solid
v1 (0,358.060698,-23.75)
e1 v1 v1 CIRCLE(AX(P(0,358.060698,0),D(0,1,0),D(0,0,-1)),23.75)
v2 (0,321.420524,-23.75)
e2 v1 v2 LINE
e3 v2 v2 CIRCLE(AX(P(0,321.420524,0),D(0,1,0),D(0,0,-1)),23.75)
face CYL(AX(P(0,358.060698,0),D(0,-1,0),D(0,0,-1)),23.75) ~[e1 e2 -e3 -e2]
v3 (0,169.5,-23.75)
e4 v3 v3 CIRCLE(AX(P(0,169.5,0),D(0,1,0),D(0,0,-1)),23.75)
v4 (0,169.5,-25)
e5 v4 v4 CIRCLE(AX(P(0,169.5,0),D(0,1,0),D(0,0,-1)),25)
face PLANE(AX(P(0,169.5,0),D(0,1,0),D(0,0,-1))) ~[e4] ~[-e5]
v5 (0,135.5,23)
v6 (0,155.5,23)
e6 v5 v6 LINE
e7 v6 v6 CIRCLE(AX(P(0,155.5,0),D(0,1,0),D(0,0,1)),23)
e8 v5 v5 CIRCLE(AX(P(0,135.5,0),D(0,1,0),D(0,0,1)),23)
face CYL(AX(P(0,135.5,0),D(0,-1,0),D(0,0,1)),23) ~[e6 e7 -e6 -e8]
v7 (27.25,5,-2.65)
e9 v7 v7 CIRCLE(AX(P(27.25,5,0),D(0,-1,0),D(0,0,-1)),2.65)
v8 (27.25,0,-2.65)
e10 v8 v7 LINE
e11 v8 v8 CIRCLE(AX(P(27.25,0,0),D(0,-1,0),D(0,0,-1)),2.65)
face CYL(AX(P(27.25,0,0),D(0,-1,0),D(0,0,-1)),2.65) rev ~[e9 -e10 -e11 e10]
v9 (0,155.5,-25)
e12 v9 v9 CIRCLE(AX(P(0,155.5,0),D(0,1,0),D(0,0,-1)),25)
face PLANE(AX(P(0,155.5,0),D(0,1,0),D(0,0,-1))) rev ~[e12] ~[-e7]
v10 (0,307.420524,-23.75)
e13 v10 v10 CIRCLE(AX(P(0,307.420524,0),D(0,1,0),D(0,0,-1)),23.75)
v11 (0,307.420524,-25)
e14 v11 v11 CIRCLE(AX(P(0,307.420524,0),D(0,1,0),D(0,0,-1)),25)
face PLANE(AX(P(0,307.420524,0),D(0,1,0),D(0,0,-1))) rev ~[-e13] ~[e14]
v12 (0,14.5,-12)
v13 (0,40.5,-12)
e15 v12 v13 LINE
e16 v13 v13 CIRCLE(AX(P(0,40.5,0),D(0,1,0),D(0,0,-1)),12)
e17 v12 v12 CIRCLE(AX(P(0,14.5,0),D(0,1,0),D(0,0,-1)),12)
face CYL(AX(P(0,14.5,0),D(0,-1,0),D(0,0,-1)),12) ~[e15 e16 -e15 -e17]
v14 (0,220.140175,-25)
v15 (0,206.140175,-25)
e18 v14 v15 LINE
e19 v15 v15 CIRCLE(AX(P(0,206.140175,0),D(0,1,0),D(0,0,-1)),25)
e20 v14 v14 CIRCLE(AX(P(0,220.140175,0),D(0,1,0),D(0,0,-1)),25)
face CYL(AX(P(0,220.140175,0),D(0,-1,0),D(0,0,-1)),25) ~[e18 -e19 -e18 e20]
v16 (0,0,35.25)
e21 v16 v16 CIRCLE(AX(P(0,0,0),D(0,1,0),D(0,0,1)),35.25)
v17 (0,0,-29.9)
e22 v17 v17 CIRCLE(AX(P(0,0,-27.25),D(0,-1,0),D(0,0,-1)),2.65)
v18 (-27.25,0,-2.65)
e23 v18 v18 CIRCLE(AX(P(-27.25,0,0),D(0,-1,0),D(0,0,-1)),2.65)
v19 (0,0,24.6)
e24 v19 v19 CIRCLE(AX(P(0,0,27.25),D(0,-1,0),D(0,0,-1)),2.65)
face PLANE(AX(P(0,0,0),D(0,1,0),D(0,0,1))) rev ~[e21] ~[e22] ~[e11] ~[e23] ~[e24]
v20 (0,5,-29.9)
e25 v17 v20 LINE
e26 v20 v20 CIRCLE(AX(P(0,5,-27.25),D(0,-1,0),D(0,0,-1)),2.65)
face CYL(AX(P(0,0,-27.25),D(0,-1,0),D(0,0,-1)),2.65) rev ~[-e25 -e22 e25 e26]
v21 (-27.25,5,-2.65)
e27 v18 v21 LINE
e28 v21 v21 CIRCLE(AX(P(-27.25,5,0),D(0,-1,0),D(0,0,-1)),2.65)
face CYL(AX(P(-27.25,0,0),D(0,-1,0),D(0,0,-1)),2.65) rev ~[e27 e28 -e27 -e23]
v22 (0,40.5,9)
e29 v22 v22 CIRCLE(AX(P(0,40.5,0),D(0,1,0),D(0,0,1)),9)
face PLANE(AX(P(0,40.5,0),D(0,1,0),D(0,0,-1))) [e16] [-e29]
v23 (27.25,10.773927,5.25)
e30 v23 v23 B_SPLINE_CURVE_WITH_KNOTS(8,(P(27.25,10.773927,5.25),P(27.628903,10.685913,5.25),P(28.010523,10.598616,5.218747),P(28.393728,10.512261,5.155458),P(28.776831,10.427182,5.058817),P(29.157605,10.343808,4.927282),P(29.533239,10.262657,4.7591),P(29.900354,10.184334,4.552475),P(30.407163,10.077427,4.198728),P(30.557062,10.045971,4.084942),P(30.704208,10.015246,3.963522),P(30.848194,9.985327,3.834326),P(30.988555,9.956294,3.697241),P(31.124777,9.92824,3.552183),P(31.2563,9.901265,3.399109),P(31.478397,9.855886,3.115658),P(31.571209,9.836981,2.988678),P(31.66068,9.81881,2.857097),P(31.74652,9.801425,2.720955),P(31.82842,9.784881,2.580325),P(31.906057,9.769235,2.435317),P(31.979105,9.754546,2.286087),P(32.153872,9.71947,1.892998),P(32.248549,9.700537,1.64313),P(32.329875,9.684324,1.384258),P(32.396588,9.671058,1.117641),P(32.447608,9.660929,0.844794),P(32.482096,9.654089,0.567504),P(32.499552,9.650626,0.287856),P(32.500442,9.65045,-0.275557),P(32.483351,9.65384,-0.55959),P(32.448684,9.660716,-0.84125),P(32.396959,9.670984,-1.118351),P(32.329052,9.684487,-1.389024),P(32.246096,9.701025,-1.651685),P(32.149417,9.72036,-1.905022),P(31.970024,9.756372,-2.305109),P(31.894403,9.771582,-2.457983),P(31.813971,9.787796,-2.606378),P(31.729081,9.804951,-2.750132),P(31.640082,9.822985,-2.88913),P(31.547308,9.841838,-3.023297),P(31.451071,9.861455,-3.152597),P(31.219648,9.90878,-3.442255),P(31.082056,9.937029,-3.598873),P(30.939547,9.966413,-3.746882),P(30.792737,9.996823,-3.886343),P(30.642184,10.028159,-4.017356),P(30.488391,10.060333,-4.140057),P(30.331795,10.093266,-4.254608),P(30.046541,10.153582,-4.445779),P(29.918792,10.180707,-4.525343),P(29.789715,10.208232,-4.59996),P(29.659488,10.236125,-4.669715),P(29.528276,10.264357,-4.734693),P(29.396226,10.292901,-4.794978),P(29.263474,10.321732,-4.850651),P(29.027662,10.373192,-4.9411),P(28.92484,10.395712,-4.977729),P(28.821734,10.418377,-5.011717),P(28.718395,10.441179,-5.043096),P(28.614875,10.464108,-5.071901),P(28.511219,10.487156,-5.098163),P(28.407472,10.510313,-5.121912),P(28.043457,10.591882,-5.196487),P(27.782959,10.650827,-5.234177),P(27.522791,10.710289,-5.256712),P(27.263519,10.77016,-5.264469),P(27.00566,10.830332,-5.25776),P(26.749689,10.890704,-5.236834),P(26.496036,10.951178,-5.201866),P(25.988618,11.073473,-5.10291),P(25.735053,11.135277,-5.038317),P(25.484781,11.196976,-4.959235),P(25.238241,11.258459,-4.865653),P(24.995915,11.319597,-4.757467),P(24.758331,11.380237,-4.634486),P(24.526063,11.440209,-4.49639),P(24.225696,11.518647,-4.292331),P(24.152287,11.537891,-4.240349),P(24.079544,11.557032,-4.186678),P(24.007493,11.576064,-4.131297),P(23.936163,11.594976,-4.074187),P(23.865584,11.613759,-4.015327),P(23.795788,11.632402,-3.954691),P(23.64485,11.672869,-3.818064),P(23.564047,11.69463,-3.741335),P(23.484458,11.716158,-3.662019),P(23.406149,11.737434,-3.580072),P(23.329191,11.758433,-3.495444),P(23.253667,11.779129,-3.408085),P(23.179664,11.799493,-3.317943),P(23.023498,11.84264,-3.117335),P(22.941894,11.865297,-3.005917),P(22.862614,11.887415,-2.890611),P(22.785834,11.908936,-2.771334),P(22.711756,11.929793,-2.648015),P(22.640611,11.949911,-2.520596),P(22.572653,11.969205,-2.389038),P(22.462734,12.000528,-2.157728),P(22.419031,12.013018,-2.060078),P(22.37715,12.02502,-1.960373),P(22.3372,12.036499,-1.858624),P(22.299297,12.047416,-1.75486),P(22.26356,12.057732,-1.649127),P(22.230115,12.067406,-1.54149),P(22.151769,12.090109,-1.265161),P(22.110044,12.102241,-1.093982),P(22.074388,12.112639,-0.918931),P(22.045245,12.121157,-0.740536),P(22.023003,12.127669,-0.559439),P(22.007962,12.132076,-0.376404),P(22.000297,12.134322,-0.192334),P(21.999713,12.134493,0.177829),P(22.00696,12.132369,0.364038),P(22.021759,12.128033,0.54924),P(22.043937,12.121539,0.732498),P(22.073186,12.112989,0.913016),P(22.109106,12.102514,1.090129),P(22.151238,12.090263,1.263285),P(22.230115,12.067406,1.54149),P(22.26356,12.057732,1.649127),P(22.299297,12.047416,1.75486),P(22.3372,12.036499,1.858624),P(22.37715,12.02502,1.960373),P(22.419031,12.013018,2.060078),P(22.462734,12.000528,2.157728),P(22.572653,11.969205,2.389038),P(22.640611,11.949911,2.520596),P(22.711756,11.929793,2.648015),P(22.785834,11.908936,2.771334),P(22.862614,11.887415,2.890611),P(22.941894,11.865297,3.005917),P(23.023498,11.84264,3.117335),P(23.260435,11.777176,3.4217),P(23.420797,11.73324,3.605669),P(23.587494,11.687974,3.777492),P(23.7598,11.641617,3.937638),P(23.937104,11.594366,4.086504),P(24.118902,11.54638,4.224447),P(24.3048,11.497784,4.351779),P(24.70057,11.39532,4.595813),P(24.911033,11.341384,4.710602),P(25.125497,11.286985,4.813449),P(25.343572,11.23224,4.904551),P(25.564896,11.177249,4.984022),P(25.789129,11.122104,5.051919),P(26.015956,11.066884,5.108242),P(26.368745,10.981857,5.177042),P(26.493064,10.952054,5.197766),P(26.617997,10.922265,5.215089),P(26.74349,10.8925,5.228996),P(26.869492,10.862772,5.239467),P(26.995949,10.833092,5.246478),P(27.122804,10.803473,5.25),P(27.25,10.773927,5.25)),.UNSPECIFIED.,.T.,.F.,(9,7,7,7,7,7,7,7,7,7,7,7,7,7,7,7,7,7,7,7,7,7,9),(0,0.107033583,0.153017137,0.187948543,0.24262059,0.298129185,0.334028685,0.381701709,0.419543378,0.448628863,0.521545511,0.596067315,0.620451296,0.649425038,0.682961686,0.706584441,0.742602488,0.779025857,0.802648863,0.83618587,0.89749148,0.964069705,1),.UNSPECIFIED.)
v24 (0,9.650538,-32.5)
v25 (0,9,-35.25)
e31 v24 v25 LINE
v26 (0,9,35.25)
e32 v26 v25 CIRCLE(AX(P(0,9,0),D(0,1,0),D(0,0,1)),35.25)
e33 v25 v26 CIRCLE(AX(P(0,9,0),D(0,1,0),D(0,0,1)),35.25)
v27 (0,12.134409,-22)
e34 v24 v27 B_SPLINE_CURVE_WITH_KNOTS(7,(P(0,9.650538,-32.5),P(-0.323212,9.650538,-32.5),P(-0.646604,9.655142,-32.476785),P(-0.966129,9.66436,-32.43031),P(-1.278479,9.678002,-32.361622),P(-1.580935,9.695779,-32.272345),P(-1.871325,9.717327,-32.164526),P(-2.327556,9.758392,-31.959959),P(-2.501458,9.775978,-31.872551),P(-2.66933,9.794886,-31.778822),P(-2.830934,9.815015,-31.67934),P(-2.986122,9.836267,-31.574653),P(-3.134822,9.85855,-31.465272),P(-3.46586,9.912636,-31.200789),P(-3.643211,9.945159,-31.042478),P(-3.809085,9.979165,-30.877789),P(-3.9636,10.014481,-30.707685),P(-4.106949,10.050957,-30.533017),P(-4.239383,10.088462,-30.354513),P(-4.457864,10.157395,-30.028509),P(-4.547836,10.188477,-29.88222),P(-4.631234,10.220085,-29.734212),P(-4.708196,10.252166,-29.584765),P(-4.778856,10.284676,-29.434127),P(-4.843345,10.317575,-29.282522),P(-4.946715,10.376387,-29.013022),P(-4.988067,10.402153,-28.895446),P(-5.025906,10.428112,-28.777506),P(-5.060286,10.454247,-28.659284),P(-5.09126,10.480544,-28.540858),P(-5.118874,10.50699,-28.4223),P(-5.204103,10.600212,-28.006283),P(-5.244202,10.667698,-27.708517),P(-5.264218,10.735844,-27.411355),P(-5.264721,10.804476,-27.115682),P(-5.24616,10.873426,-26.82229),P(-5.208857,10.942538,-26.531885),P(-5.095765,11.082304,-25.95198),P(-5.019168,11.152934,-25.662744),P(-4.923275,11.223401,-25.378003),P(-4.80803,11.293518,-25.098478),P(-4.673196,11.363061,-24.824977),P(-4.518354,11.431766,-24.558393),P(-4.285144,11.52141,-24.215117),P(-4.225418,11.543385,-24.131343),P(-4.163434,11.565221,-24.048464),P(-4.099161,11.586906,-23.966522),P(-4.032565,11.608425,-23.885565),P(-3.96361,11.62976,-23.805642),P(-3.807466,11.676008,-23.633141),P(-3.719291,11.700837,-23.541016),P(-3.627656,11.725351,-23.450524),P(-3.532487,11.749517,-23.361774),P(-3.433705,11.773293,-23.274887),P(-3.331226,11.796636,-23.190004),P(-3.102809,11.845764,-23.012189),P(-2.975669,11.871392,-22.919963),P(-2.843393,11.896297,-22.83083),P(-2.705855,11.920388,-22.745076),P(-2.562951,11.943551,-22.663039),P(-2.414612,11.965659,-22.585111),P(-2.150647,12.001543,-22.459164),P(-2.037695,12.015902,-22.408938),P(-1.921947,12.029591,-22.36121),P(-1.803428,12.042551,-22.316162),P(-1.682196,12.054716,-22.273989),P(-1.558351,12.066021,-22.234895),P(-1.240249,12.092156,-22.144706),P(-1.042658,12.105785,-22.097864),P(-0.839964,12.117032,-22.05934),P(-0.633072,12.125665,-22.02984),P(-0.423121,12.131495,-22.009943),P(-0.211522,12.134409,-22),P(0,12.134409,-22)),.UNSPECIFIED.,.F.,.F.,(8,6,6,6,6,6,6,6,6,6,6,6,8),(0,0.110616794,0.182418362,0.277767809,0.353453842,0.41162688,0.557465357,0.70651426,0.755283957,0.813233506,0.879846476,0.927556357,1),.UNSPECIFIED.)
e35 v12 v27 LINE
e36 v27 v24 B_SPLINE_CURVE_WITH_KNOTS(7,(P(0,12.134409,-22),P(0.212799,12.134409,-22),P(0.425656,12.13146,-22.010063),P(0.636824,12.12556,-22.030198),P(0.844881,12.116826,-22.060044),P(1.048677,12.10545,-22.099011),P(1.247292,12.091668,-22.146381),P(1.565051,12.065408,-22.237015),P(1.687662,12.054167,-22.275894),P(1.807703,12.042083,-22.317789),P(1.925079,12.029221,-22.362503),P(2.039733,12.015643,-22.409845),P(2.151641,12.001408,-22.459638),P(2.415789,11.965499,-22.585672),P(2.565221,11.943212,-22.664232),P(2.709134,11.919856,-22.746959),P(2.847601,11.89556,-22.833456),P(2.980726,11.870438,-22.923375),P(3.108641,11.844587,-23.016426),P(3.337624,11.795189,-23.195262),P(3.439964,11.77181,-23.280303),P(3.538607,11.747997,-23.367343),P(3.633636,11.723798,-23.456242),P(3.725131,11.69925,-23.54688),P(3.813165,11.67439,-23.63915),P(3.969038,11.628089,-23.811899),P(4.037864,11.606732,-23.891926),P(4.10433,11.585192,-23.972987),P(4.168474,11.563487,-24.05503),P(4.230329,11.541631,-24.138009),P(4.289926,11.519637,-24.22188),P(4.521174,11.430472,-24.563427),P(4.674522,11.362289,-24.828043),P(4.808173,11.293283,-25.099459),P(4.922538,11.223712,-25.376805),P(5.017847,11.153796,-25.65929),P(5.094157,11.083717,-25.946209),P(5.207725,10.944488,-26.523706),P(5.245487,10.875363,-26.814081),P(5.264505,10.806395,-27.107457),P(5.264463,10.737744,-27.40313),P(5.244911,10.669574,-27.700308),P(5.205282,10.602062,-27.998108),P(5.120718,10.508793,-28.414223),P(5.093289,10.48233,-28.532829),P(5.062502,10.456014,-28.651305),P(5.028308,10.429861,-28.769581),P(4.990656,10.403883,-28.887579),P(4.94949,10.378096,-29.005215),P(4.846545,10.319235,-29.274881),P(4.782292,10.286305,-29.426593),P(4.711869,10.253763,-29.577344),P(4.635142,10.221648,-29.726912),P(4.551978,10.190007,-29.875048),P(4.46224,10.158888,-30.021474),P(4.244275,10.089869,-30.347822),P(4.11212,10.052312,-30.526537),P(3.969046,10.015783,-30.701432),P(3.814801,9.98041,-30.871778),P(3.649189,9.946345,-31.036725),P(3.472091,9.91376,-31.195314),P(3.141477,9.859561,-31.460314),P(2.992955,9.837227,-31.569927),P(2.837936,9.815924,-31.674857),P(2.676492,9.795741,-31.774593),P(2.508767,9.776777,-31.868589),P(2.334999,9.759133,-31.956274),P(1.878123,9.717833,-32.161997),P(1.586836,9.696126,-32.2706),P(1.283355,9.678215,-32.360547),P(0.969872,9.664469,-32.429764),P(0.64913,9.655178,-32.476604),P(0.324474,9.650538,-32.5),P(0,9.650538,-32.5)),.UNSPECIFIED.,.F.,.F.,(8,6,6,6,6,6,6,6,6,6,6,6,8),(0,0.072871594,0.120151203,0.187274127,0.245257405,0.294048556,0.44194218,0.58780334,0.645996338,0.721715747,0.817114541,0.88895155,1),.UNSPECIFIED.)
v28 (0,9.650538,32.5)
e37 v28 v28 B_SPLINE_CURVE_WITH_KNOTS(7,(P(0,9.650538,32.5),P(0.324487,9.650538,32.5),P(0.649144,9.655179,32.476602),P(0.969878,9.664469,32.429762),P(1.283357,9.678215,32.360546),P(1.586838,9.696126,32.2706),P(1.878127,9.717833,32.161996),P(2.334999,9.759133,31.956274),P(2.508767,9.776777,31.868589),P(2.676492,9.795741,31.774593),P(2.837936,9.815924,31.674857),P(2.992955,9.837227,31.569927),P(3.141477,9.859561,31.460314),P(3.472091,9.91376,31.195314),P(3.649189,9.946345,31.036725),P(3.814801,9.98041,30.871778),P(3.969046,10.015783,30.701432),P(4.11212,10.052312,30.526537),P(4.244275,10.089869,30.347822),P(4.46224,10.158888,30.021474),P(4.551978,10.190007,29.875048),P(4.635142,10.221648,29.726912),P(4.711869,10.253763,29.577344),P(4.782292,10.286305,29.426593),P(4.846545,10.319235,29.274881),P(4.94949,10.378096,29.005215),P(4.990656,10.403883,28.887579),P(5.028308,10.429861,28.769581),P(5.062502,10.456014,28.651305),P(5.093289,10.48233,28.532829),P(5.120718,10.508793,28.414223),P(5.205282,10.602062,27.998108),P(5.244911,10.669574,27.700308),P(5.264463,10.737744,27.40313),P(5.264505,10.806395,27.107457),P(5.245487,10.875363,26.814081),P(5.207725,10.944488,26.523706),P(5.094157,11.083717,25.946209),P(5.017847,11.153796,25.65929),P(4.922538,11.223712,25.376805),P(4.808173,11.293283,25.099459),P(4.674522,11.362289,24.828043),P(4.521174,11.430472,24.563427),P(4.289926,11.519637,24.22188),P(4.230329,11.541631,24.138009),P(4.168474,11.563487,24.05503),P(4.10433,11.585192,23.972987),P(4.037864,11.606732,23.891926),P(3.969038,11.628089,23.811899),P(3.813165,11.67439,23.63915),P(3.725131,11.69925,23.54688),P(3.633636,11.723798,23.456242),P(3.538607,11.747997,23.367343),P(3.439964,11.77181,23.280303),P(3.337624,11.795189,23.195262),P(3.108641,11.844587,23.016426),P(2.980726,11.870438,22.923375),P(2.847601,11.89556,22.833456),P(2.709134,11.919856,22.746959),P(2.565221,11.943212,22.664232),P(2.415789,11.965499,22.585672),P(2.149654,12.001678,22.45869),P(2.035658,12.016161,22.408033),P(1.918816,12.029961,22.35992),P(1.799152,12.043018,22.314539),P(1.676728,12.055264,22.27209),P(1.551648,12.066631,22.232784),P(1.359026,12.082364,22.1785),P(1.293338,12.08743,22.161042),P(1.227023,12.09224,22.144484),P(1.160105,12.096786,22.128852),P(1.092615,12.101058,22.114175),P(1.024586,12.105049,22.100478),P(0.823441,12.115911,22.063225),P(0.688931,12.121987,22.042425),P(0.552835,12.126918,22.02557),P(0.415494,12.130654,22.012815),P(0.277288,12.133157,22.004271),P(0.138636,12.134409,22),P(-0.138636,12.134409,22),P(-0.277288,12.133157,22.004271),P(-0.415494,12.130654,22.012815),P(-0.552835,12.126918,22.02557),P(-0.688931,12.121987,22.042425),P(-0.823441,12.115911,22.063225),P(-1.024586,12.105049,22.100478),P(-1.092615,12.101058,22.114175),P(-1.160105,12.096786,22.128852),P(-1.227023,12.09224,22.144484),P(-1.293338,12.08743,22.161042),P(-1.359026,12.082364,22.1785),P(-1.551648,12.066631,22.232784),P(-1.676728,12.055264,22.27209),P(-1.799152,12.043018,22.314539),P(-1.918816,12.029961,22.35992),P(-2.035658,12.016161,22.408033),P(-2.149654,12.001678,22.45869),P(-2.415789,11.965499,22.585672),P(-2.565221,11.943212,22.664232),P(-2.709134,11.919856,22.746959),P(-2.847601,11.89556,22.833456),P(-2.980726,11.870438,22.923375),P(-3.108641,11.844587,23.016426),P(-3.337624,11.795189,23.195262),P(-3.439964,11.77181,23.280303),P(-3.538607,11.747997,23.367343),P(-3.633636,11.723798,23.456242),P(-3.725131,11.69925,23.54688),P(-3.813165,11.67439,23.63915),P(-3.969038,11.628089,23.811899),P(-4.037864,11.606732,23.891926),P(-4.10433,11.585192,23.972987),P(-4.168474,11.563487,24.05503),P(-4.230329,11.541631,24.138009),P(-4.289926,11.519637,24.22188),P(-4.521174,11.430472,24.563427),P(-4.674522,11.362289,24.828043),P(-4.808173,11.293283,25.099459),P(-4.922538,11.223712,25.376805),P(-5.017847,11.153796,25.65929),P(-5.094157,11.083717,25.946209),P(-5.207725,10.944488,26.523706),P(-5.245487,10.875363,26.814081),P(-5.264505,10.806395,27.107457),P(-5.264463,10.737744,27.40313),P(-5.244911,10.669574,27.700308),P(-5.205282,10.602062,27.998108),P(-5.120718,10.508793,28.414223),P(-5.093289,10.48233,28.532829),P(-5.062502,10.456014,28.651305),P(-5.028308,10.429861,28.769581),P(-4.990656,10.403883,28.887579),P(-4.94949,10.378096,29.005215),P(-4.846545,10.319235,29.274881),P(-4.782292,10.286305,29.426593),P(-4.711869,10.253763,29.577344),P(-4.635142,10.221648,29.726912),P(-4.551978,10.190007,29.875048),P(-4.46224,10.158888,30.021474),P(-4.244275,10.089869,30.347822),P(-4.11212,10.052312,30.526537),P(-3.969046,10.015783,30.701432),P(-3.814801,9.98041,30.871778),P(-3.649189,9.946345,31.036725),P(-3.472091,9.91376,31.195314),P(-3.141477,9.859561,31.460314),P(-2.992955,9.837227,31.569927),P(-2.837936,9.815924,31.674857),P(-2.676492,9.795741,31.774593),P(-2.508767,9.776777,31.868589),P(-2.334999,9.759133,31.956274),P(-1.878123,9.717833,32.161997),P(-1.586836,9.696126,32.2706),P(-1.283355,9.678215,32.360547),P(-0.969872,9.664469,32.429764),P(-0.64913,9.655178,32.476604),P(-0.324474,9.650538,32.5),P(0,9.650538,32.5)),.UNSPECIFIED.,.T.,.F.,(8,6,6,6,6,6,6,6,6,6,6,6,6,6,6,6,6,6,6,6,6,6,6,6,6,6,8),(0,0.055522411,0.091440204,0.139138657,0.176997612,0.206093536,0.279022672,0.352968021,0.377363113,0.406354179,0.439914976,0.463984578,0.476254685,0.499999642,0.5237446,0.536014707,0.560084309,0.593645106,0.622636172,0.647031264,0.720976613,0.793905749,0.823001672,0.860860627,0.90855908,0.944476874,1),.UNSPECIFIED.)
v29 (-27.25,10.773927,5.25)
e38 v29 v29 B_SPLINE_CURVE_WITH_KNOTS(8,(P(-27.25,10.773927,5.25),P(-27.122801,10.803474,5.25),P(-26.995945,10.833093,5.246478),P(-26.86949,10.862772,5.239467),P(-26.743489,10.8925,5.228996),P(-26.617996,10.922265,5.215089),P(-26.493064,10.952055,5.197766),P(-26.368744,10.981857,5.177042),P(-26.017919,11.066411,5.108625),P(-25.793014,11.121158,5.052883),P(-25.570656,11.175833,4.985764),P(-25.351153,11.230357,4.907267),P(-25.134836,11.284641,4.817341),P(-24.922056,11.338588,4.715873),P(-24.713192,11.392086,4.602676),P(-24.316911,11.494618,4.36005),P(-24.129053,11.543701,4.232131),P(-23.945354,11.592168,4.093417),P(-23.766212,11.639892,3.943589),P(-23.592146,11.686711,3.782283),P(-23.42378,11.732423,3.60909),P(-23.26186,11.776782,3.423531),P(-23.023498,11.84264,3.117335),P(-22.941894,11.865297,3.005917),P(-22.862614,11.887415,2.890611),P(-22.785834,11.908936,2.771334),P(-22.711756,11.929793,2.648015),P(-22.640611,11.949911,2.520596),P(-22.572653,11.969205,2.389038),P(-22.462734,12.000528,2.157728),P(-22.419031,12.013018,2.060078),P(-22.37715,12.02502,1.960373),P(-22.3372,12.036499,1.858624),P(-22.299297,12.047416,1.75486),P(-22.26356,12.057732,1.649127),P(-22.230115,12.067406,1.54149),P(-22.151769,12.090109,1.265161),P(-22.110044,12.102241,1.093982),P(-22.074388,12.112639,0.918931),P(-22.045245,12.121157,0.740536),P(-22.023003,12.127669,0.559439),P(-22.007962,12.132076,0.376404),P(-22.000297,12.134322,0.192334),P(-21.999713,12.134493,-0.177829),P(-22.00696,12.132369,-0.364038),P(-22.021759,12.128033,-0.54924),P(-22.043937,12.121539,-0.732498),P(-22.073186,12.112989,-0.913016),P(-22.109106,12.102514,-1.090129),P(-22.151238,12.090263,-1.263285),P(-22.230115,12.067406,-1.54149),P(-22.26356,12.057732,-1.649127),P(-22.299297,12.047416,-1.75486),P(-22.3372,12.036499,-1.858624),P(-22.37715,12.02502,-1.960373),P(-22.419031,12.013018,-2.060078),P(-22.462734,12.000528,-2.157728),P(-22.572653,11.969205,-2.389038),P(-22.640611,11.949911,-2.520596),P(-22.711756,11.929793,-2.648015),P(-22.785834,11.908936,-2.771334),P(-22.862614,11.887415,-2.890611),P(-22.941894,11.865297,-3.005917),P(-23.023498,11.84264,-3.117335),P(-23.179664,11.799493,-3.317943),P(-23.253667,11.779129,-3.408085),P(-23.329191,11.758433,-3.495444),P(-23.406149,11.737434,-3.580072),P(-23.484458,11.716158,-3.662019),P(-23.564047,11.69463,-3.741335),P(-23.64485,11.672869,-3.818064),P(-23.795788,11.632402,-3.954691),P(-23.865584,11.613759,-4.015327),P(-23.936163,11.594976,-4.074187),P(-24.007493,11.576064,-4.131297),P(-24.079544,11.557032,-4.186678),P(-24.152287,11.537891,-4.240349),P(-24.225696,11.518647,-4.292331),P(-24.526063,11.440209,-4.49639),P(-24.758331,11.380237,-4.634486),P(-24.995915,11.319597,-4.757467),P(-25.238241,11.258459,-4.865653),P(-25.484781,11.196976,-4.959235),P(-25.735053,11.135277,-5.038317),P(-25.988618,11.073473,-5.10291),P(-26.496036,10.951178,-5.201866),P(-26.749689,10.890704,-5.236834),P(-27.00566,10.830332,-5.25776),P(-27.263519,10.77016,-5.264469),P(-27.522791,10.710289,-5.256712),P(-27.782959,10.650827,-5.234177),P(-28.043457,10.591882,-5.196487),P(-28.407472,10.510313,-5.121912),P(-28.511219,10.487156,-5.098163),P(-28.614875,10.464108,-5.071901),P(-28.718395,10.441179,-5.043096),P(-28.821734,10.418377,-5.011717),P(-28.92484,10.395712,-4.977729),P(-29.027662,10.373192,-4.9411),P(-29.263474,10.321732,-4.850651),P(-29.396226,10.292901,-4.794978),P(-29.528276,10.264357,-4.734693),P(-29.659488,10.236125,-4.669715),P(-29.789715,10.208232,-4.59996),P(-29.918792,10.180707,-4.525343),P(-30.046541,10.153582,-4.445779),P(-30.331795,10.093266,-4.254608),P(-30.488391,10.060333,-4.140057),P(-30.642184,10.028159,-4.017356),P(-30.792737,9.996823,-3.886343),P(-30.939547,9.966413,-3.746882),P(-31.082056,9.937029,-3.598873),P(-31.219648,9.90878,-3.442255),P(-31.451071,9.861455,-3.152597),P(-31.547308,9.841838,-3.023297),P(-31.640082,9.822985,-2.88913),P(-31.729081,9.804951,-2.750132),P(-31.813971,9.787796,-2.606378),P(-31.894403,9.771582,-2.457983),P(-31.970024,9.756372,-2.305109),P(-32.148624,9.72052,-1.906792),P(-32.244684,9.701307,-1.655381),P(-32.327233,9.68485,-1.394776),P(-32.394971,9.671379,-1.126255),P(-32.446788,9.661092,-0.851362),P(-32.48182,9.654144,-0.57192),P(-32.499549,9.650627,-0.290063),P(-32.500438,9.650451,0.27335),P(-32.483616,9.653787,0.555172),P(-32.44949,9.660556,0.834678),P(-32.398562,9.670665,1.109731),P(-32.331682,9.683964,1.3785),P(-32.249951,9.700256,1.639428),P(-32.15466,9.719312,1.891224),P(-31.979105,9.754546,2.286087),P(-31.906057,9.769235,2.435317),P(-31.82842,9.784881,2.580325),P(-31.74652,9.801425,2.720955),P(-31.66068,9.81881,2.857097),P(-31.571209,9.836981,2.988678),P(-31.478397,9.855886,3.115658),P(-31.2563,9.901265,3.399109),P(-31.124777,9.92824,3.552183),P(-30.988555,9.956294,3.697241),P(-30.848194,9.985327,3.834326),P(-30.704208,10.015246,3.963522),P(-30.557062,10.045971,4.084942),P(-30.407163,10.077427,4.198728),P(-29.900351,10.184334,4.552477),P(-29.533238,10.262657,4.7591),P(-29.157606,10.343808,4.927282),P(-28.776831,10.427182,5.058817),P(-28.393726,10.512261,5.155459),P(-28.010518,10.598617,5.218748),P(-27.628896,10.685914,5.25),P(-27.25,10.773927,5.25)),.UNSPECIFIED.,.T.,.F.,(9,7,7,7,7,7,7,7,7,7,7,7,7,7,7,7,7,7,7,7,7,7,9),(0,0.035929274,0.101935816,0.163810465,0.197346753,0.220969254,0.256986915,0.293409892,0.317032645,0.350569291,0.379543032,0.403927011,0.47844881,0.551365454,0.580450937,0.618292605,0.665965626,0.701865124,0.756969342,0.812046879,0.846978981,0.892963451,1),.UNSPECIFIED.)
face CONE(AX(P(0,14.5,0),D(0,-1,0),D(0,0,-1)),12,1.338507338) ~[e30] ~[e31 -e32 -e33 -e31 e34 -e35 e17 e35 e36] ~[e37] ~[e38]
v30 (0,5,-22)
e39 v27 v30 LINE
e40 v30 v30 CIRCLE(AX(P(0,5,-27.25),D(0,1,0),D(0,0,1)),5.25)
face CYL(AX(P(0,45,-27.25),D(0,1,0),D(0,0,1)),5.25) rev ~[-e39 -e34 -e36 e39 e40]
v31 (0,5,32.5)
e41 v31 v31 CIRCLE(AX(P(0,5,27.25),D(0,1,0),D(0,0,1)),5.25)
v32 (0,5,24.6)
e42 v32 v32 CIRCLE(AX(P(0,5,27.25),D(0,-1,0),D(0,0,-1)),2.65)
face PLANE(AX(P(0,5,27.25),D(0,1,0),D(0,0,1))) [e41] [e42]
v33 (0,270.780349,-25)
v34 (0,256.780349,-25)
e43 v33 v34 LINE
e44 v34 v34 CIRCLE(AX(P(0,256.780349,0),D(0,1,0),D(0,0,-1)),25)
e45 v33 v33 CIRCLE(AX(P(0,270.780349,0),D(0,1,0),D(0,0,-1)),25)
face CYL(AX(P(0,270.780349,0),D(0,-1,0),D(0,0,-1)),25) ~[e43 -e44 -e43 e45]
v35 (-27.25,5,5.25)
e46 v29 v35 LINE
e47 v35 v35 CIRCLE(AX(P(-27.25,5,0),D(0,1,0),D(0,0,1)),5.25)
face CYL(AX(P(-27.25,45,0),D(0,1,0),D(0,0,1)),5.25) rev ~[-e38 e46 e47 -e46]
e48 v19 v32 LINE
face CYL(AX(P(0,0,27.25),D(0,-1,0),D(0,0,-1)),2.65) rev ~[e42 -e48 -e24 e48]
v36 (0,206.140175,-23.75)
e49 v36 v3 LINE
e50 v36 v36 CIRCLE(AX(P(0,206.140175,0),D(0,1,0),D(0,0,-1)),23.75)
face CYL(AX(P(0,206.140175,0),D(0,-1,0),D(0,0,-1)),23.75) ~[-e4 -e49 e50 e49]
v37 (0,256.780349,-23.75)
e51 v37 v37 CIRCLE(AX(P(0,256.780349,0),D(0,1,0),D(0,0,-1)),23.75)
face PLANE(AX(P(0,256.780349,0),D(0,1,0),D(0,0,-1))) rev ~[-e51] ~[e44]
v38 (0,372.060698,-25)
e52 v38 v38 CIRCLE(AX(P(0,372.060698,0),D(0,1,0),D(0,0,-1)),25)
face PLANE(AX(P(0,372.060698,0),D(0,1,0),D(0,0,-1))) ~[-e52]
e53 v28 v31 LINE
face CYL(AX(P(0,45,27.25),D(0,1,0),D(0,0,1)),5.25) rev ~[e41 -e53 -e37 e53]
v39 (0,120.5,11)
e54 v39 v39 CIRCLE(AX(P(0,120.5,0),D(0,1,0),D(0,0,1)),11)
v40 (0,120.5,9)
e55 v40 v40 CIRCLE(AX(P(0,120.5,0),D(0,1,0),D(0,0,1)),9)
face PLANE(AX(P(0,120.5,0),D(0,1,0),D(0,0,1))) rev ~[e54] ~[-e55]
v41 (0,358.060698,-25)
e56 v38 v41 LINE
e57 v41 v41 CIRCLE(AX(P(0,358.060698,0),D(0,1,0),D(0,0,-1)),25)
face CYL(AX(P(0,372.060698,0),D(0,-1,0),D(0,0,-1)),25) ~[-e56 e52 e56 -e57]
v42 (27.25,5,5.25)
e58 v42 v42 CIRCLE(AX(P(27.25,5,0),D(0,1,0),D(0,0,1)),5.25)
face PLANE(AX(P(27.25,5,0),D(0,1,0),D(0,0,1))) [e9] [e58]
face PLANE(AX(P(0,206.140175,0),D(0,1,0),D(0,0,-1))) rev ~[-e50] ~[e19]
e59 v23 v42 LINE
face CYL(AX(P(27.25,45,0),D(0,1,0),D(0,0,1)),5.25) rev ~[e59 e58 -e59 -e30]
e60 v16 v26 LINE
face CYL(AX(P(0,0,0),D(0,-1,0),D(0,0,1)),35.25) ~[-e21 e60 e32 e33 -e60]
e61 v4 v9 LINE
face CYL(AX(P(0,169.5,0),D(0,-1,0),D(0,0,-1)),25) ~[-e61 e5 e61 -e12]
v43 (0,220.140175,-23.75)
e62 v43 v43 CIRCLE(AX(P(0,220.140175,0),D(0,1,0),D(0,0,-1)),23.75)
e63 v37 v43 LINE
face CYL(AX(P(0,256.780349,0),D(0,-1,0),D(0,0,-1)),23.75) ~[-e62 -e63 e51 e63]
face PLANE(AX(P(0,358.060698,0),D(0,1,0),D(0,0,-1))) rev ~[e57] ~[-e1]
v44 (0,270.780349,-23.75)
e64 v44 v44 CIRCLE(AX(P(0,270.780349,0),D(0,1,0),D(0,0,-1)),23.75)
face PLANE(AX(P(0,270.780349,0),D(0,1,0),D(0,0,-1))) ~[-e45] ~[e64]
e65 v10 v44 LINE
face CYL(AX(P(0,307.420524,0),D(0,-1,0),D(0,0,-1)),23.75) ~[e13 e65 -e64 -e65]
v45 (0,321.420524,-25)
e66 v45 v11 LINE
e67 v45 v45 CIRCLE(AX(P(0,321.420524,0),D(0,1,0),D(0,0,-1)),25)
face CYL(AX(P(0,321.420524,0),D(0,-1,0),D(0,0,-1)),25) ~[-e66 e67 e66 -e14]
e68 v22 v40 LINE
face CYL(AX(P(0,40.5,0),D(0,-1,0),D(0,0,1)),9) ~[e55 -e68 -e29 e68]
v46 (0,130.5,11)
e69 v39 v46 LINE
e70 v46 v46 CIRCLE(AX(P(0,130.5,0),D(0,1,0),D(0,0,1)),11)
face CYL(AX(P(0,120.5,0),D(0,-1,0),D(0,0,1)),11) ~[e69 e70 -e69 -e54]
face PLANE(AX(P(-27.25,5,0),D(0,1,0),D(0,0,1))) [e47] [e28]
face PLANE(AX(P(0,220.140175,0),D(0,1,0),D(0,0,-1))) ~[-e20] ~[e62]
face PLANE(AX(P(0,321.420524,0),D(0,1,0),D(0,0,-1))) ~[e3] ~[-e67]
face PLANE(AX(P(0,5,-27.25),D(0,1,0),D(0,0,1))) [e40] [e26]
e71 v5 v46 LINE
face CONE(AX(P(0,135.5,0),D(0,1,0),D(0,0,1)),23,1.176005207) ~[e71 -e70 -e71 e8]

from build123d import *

# Parameters (mm, degrees)
SKETCH1_R           = 35.25
BOSS_EXTRUDE1_DEPTH = 9
SKETCH3_R           = 12
BOSS_EXTRUDE2_DEPTH = 26
SKETCH4_R           = 9
BOSS_EXTRUDE3_DEPTH = 80
SKETCH5_R           = 11
BOSS_EXTRUDE4_DEPTH = 10
SKETCH7_R           = 23
BOSS_EXTRUDE5_DEPTH = 20
SKETCH9_R           = 2.65
CUT_EXTRUDE1_DEPTH  = 20
CUT_EXTRUDE2_START  = 45
SKETCH11_R          = 5.25
CUT_EXTRUDE2_DEPTH  = 40


with BuildPart() as part:
    # Sketch1 → Boss-Extrude1 (new body)
    with BuildSketch(Plane(origin=(0, 0, 0), x_dir=(1, 0, 0), z_dir=(0, 1, 0))):
        with Locations(Location((0, 0, 0), (0, 0, 270))):
            Circle(SKETCH1_R)
    extrude(amount=BOSS_EXTRUDE1_DEPTH)

    # Sketch2 → Revolve1 (revolve)
    with BuildSketch(Plane.XY, mode=Mode.PRIVATE) as revolve1_sk:
        Polygon((0, 9), (0, 14.5), (12, 14.5), (35.25, 9), align=None)
    revolve(revolve1_sk.sketch.rotate(Axis((0, 9, 0), (0, 1, 0)), 90), axis=Axis((0, 9, 0), (0, 1, 0)))

    # Sketch3 → Boss-Extrude2 (add)
    with BuildSketch(Plane(origin=(0, 14.5, 0), x_dir=(1, 0, 0), z_dir=(0, 1, 0))):
        with Locations(Location((0, 0, 0), (0, 0, 90))):
            Circle(SKETCH3_R)
    extrude(amount=BOSS_EXTRUDE2_DEPTH)

    # Sketch4 → Boss-Extrude3 (add)
    with BuildSketch(Plane(origin=(0, 40.5, 0), x_dir=(1, 0, 0), z_dir=(0, 1, 0))):
        with Locations(Location((0, 0, 0), (0, 0, 270))):
            Circle(SKETCH4_R)
    extrude(amount=BOSS_EXTRUDE3_DEPTH)

    # Sketch5 → Boss-Extrude4 (add)
    with BuildSketch(Plane(origin=(0, 120.5, 0), x_dir=(1, 0, 0), z_dir=(0, 1, 0))):
        with Locations(Location((0, 0, 0), (0, 0, 270))):
            Circle(SKETCH5_R)
    extrude(amount=BOSS_EXTRUDE4_DEPTH)

    # Sketch6 → Revolve2 (revolve)
    with BuildSketch(Plane.XY, mode=Mode.PRIVATE) as revolve2_sk:
        Polygon((0, 130.5), (0, 135.5), (23, 135.5), (11, 130.5), align=None)
    revolve(revolve2_sk.sketch.rotate(Axis((0, 130.5, 0), (0, 1, 0)), 270), axis=Axis((0, 130.5, 0), (0, 1, 0)))

    # Sketch7 → Boss-Extrude5 (add)
    with BuildSketch(Plane(origin=(0, 135.5, 0), x_dir=(1, 0, 0), z_dir=(0, 1, 0))):
        with Locations(Location((0, 0, 0), (0, 0, 270))):
            Circle(SKETCH7_R)
    extrude(amount=BOSS_EXTRUDE5_DEPTH)

    # Sketch8 → Revolve6 (revolve)
    with BuildSketch(Plane.XY, mode=Mode.PRIVATE) as revolve6_sk:
        Polygon((-25, 155.5), (0, 155.5), (0, 372.060698134), (-25, 372.060698134), (-25, 358.060698134), (-23.75, 358.060698134), (-23.75, 321.420523601), (-25, 321.420523601), (-25, 307.420523601), (-23.75, 307.420523601), (-23.75, 270.780349067), (-25, 270.780349067), (-25, 256.780349067), (-23.75, 256.780349067), (-23.75, 220.140174534), (-25, 220.140174534), (-25, 206.140174534), (-23.75, 206.140174534), (-23.75, 169.5), (-25, 169.5), align=None)
    revolve(revolve6_sk.sketch.rotate(Axis((0, 155.5, 0), (0, 1, 0)), 270), axis=Axis((0, 155.5, 0), (0, 1, 0)))

    # Sketch9 → Cut-Extrude1 (cut)
    with BuildSketch(Plane.XZ):
        with Locations(Location((0, 27.25, 0), (0, 0, 270))):
            Circle(SKETCH9_R)
        with Locations(Location((27.25, 0, 0), (0, 0, 270))):
            Circle(SKETCH9_R)
        with Locations(Location((0, -27.25, 0), (0, 0, 270))):
            Circle(SKETCH9_R)
        with Locations(Location((-27.25, 0, 0), (0, 0, 270))):
            Circle(SKETCH9_R)
    extrude(amount=-CUT_EXTRUDE1_DEPTH, mode=Mode.SUBTRACT)

    # Sketch11 → Cut-Extrude2 (cut)
    with BuildSketch(Plane(origin=(0, 0, 0), x_dir=(1, 0, 0), z_dir=(0, 1, 0)).offset(CUT_EXTRUDE2_START)):
        with Locations(Location((0, 27.25, 0), (0, 0, 270))):
            Circle(SKETCH11_R)
        with Locations(Location((27.25, 0, 0), (0, 0, 270))):
            Circle(SKETCH11_R)
        with Locations(Location((0, -27.25, 0), (0, 0, 270))):
            Circle(SKETCH11_R)
        with Locations(Location((-27.25, 0, 0), (0, 0, 270))):
            Circle(SKETCH11_R)
    extrude(amount=-CUT_EXTRUDE2_DEPTH, mode=Mode.SUBTRACT)


solid = part.part
